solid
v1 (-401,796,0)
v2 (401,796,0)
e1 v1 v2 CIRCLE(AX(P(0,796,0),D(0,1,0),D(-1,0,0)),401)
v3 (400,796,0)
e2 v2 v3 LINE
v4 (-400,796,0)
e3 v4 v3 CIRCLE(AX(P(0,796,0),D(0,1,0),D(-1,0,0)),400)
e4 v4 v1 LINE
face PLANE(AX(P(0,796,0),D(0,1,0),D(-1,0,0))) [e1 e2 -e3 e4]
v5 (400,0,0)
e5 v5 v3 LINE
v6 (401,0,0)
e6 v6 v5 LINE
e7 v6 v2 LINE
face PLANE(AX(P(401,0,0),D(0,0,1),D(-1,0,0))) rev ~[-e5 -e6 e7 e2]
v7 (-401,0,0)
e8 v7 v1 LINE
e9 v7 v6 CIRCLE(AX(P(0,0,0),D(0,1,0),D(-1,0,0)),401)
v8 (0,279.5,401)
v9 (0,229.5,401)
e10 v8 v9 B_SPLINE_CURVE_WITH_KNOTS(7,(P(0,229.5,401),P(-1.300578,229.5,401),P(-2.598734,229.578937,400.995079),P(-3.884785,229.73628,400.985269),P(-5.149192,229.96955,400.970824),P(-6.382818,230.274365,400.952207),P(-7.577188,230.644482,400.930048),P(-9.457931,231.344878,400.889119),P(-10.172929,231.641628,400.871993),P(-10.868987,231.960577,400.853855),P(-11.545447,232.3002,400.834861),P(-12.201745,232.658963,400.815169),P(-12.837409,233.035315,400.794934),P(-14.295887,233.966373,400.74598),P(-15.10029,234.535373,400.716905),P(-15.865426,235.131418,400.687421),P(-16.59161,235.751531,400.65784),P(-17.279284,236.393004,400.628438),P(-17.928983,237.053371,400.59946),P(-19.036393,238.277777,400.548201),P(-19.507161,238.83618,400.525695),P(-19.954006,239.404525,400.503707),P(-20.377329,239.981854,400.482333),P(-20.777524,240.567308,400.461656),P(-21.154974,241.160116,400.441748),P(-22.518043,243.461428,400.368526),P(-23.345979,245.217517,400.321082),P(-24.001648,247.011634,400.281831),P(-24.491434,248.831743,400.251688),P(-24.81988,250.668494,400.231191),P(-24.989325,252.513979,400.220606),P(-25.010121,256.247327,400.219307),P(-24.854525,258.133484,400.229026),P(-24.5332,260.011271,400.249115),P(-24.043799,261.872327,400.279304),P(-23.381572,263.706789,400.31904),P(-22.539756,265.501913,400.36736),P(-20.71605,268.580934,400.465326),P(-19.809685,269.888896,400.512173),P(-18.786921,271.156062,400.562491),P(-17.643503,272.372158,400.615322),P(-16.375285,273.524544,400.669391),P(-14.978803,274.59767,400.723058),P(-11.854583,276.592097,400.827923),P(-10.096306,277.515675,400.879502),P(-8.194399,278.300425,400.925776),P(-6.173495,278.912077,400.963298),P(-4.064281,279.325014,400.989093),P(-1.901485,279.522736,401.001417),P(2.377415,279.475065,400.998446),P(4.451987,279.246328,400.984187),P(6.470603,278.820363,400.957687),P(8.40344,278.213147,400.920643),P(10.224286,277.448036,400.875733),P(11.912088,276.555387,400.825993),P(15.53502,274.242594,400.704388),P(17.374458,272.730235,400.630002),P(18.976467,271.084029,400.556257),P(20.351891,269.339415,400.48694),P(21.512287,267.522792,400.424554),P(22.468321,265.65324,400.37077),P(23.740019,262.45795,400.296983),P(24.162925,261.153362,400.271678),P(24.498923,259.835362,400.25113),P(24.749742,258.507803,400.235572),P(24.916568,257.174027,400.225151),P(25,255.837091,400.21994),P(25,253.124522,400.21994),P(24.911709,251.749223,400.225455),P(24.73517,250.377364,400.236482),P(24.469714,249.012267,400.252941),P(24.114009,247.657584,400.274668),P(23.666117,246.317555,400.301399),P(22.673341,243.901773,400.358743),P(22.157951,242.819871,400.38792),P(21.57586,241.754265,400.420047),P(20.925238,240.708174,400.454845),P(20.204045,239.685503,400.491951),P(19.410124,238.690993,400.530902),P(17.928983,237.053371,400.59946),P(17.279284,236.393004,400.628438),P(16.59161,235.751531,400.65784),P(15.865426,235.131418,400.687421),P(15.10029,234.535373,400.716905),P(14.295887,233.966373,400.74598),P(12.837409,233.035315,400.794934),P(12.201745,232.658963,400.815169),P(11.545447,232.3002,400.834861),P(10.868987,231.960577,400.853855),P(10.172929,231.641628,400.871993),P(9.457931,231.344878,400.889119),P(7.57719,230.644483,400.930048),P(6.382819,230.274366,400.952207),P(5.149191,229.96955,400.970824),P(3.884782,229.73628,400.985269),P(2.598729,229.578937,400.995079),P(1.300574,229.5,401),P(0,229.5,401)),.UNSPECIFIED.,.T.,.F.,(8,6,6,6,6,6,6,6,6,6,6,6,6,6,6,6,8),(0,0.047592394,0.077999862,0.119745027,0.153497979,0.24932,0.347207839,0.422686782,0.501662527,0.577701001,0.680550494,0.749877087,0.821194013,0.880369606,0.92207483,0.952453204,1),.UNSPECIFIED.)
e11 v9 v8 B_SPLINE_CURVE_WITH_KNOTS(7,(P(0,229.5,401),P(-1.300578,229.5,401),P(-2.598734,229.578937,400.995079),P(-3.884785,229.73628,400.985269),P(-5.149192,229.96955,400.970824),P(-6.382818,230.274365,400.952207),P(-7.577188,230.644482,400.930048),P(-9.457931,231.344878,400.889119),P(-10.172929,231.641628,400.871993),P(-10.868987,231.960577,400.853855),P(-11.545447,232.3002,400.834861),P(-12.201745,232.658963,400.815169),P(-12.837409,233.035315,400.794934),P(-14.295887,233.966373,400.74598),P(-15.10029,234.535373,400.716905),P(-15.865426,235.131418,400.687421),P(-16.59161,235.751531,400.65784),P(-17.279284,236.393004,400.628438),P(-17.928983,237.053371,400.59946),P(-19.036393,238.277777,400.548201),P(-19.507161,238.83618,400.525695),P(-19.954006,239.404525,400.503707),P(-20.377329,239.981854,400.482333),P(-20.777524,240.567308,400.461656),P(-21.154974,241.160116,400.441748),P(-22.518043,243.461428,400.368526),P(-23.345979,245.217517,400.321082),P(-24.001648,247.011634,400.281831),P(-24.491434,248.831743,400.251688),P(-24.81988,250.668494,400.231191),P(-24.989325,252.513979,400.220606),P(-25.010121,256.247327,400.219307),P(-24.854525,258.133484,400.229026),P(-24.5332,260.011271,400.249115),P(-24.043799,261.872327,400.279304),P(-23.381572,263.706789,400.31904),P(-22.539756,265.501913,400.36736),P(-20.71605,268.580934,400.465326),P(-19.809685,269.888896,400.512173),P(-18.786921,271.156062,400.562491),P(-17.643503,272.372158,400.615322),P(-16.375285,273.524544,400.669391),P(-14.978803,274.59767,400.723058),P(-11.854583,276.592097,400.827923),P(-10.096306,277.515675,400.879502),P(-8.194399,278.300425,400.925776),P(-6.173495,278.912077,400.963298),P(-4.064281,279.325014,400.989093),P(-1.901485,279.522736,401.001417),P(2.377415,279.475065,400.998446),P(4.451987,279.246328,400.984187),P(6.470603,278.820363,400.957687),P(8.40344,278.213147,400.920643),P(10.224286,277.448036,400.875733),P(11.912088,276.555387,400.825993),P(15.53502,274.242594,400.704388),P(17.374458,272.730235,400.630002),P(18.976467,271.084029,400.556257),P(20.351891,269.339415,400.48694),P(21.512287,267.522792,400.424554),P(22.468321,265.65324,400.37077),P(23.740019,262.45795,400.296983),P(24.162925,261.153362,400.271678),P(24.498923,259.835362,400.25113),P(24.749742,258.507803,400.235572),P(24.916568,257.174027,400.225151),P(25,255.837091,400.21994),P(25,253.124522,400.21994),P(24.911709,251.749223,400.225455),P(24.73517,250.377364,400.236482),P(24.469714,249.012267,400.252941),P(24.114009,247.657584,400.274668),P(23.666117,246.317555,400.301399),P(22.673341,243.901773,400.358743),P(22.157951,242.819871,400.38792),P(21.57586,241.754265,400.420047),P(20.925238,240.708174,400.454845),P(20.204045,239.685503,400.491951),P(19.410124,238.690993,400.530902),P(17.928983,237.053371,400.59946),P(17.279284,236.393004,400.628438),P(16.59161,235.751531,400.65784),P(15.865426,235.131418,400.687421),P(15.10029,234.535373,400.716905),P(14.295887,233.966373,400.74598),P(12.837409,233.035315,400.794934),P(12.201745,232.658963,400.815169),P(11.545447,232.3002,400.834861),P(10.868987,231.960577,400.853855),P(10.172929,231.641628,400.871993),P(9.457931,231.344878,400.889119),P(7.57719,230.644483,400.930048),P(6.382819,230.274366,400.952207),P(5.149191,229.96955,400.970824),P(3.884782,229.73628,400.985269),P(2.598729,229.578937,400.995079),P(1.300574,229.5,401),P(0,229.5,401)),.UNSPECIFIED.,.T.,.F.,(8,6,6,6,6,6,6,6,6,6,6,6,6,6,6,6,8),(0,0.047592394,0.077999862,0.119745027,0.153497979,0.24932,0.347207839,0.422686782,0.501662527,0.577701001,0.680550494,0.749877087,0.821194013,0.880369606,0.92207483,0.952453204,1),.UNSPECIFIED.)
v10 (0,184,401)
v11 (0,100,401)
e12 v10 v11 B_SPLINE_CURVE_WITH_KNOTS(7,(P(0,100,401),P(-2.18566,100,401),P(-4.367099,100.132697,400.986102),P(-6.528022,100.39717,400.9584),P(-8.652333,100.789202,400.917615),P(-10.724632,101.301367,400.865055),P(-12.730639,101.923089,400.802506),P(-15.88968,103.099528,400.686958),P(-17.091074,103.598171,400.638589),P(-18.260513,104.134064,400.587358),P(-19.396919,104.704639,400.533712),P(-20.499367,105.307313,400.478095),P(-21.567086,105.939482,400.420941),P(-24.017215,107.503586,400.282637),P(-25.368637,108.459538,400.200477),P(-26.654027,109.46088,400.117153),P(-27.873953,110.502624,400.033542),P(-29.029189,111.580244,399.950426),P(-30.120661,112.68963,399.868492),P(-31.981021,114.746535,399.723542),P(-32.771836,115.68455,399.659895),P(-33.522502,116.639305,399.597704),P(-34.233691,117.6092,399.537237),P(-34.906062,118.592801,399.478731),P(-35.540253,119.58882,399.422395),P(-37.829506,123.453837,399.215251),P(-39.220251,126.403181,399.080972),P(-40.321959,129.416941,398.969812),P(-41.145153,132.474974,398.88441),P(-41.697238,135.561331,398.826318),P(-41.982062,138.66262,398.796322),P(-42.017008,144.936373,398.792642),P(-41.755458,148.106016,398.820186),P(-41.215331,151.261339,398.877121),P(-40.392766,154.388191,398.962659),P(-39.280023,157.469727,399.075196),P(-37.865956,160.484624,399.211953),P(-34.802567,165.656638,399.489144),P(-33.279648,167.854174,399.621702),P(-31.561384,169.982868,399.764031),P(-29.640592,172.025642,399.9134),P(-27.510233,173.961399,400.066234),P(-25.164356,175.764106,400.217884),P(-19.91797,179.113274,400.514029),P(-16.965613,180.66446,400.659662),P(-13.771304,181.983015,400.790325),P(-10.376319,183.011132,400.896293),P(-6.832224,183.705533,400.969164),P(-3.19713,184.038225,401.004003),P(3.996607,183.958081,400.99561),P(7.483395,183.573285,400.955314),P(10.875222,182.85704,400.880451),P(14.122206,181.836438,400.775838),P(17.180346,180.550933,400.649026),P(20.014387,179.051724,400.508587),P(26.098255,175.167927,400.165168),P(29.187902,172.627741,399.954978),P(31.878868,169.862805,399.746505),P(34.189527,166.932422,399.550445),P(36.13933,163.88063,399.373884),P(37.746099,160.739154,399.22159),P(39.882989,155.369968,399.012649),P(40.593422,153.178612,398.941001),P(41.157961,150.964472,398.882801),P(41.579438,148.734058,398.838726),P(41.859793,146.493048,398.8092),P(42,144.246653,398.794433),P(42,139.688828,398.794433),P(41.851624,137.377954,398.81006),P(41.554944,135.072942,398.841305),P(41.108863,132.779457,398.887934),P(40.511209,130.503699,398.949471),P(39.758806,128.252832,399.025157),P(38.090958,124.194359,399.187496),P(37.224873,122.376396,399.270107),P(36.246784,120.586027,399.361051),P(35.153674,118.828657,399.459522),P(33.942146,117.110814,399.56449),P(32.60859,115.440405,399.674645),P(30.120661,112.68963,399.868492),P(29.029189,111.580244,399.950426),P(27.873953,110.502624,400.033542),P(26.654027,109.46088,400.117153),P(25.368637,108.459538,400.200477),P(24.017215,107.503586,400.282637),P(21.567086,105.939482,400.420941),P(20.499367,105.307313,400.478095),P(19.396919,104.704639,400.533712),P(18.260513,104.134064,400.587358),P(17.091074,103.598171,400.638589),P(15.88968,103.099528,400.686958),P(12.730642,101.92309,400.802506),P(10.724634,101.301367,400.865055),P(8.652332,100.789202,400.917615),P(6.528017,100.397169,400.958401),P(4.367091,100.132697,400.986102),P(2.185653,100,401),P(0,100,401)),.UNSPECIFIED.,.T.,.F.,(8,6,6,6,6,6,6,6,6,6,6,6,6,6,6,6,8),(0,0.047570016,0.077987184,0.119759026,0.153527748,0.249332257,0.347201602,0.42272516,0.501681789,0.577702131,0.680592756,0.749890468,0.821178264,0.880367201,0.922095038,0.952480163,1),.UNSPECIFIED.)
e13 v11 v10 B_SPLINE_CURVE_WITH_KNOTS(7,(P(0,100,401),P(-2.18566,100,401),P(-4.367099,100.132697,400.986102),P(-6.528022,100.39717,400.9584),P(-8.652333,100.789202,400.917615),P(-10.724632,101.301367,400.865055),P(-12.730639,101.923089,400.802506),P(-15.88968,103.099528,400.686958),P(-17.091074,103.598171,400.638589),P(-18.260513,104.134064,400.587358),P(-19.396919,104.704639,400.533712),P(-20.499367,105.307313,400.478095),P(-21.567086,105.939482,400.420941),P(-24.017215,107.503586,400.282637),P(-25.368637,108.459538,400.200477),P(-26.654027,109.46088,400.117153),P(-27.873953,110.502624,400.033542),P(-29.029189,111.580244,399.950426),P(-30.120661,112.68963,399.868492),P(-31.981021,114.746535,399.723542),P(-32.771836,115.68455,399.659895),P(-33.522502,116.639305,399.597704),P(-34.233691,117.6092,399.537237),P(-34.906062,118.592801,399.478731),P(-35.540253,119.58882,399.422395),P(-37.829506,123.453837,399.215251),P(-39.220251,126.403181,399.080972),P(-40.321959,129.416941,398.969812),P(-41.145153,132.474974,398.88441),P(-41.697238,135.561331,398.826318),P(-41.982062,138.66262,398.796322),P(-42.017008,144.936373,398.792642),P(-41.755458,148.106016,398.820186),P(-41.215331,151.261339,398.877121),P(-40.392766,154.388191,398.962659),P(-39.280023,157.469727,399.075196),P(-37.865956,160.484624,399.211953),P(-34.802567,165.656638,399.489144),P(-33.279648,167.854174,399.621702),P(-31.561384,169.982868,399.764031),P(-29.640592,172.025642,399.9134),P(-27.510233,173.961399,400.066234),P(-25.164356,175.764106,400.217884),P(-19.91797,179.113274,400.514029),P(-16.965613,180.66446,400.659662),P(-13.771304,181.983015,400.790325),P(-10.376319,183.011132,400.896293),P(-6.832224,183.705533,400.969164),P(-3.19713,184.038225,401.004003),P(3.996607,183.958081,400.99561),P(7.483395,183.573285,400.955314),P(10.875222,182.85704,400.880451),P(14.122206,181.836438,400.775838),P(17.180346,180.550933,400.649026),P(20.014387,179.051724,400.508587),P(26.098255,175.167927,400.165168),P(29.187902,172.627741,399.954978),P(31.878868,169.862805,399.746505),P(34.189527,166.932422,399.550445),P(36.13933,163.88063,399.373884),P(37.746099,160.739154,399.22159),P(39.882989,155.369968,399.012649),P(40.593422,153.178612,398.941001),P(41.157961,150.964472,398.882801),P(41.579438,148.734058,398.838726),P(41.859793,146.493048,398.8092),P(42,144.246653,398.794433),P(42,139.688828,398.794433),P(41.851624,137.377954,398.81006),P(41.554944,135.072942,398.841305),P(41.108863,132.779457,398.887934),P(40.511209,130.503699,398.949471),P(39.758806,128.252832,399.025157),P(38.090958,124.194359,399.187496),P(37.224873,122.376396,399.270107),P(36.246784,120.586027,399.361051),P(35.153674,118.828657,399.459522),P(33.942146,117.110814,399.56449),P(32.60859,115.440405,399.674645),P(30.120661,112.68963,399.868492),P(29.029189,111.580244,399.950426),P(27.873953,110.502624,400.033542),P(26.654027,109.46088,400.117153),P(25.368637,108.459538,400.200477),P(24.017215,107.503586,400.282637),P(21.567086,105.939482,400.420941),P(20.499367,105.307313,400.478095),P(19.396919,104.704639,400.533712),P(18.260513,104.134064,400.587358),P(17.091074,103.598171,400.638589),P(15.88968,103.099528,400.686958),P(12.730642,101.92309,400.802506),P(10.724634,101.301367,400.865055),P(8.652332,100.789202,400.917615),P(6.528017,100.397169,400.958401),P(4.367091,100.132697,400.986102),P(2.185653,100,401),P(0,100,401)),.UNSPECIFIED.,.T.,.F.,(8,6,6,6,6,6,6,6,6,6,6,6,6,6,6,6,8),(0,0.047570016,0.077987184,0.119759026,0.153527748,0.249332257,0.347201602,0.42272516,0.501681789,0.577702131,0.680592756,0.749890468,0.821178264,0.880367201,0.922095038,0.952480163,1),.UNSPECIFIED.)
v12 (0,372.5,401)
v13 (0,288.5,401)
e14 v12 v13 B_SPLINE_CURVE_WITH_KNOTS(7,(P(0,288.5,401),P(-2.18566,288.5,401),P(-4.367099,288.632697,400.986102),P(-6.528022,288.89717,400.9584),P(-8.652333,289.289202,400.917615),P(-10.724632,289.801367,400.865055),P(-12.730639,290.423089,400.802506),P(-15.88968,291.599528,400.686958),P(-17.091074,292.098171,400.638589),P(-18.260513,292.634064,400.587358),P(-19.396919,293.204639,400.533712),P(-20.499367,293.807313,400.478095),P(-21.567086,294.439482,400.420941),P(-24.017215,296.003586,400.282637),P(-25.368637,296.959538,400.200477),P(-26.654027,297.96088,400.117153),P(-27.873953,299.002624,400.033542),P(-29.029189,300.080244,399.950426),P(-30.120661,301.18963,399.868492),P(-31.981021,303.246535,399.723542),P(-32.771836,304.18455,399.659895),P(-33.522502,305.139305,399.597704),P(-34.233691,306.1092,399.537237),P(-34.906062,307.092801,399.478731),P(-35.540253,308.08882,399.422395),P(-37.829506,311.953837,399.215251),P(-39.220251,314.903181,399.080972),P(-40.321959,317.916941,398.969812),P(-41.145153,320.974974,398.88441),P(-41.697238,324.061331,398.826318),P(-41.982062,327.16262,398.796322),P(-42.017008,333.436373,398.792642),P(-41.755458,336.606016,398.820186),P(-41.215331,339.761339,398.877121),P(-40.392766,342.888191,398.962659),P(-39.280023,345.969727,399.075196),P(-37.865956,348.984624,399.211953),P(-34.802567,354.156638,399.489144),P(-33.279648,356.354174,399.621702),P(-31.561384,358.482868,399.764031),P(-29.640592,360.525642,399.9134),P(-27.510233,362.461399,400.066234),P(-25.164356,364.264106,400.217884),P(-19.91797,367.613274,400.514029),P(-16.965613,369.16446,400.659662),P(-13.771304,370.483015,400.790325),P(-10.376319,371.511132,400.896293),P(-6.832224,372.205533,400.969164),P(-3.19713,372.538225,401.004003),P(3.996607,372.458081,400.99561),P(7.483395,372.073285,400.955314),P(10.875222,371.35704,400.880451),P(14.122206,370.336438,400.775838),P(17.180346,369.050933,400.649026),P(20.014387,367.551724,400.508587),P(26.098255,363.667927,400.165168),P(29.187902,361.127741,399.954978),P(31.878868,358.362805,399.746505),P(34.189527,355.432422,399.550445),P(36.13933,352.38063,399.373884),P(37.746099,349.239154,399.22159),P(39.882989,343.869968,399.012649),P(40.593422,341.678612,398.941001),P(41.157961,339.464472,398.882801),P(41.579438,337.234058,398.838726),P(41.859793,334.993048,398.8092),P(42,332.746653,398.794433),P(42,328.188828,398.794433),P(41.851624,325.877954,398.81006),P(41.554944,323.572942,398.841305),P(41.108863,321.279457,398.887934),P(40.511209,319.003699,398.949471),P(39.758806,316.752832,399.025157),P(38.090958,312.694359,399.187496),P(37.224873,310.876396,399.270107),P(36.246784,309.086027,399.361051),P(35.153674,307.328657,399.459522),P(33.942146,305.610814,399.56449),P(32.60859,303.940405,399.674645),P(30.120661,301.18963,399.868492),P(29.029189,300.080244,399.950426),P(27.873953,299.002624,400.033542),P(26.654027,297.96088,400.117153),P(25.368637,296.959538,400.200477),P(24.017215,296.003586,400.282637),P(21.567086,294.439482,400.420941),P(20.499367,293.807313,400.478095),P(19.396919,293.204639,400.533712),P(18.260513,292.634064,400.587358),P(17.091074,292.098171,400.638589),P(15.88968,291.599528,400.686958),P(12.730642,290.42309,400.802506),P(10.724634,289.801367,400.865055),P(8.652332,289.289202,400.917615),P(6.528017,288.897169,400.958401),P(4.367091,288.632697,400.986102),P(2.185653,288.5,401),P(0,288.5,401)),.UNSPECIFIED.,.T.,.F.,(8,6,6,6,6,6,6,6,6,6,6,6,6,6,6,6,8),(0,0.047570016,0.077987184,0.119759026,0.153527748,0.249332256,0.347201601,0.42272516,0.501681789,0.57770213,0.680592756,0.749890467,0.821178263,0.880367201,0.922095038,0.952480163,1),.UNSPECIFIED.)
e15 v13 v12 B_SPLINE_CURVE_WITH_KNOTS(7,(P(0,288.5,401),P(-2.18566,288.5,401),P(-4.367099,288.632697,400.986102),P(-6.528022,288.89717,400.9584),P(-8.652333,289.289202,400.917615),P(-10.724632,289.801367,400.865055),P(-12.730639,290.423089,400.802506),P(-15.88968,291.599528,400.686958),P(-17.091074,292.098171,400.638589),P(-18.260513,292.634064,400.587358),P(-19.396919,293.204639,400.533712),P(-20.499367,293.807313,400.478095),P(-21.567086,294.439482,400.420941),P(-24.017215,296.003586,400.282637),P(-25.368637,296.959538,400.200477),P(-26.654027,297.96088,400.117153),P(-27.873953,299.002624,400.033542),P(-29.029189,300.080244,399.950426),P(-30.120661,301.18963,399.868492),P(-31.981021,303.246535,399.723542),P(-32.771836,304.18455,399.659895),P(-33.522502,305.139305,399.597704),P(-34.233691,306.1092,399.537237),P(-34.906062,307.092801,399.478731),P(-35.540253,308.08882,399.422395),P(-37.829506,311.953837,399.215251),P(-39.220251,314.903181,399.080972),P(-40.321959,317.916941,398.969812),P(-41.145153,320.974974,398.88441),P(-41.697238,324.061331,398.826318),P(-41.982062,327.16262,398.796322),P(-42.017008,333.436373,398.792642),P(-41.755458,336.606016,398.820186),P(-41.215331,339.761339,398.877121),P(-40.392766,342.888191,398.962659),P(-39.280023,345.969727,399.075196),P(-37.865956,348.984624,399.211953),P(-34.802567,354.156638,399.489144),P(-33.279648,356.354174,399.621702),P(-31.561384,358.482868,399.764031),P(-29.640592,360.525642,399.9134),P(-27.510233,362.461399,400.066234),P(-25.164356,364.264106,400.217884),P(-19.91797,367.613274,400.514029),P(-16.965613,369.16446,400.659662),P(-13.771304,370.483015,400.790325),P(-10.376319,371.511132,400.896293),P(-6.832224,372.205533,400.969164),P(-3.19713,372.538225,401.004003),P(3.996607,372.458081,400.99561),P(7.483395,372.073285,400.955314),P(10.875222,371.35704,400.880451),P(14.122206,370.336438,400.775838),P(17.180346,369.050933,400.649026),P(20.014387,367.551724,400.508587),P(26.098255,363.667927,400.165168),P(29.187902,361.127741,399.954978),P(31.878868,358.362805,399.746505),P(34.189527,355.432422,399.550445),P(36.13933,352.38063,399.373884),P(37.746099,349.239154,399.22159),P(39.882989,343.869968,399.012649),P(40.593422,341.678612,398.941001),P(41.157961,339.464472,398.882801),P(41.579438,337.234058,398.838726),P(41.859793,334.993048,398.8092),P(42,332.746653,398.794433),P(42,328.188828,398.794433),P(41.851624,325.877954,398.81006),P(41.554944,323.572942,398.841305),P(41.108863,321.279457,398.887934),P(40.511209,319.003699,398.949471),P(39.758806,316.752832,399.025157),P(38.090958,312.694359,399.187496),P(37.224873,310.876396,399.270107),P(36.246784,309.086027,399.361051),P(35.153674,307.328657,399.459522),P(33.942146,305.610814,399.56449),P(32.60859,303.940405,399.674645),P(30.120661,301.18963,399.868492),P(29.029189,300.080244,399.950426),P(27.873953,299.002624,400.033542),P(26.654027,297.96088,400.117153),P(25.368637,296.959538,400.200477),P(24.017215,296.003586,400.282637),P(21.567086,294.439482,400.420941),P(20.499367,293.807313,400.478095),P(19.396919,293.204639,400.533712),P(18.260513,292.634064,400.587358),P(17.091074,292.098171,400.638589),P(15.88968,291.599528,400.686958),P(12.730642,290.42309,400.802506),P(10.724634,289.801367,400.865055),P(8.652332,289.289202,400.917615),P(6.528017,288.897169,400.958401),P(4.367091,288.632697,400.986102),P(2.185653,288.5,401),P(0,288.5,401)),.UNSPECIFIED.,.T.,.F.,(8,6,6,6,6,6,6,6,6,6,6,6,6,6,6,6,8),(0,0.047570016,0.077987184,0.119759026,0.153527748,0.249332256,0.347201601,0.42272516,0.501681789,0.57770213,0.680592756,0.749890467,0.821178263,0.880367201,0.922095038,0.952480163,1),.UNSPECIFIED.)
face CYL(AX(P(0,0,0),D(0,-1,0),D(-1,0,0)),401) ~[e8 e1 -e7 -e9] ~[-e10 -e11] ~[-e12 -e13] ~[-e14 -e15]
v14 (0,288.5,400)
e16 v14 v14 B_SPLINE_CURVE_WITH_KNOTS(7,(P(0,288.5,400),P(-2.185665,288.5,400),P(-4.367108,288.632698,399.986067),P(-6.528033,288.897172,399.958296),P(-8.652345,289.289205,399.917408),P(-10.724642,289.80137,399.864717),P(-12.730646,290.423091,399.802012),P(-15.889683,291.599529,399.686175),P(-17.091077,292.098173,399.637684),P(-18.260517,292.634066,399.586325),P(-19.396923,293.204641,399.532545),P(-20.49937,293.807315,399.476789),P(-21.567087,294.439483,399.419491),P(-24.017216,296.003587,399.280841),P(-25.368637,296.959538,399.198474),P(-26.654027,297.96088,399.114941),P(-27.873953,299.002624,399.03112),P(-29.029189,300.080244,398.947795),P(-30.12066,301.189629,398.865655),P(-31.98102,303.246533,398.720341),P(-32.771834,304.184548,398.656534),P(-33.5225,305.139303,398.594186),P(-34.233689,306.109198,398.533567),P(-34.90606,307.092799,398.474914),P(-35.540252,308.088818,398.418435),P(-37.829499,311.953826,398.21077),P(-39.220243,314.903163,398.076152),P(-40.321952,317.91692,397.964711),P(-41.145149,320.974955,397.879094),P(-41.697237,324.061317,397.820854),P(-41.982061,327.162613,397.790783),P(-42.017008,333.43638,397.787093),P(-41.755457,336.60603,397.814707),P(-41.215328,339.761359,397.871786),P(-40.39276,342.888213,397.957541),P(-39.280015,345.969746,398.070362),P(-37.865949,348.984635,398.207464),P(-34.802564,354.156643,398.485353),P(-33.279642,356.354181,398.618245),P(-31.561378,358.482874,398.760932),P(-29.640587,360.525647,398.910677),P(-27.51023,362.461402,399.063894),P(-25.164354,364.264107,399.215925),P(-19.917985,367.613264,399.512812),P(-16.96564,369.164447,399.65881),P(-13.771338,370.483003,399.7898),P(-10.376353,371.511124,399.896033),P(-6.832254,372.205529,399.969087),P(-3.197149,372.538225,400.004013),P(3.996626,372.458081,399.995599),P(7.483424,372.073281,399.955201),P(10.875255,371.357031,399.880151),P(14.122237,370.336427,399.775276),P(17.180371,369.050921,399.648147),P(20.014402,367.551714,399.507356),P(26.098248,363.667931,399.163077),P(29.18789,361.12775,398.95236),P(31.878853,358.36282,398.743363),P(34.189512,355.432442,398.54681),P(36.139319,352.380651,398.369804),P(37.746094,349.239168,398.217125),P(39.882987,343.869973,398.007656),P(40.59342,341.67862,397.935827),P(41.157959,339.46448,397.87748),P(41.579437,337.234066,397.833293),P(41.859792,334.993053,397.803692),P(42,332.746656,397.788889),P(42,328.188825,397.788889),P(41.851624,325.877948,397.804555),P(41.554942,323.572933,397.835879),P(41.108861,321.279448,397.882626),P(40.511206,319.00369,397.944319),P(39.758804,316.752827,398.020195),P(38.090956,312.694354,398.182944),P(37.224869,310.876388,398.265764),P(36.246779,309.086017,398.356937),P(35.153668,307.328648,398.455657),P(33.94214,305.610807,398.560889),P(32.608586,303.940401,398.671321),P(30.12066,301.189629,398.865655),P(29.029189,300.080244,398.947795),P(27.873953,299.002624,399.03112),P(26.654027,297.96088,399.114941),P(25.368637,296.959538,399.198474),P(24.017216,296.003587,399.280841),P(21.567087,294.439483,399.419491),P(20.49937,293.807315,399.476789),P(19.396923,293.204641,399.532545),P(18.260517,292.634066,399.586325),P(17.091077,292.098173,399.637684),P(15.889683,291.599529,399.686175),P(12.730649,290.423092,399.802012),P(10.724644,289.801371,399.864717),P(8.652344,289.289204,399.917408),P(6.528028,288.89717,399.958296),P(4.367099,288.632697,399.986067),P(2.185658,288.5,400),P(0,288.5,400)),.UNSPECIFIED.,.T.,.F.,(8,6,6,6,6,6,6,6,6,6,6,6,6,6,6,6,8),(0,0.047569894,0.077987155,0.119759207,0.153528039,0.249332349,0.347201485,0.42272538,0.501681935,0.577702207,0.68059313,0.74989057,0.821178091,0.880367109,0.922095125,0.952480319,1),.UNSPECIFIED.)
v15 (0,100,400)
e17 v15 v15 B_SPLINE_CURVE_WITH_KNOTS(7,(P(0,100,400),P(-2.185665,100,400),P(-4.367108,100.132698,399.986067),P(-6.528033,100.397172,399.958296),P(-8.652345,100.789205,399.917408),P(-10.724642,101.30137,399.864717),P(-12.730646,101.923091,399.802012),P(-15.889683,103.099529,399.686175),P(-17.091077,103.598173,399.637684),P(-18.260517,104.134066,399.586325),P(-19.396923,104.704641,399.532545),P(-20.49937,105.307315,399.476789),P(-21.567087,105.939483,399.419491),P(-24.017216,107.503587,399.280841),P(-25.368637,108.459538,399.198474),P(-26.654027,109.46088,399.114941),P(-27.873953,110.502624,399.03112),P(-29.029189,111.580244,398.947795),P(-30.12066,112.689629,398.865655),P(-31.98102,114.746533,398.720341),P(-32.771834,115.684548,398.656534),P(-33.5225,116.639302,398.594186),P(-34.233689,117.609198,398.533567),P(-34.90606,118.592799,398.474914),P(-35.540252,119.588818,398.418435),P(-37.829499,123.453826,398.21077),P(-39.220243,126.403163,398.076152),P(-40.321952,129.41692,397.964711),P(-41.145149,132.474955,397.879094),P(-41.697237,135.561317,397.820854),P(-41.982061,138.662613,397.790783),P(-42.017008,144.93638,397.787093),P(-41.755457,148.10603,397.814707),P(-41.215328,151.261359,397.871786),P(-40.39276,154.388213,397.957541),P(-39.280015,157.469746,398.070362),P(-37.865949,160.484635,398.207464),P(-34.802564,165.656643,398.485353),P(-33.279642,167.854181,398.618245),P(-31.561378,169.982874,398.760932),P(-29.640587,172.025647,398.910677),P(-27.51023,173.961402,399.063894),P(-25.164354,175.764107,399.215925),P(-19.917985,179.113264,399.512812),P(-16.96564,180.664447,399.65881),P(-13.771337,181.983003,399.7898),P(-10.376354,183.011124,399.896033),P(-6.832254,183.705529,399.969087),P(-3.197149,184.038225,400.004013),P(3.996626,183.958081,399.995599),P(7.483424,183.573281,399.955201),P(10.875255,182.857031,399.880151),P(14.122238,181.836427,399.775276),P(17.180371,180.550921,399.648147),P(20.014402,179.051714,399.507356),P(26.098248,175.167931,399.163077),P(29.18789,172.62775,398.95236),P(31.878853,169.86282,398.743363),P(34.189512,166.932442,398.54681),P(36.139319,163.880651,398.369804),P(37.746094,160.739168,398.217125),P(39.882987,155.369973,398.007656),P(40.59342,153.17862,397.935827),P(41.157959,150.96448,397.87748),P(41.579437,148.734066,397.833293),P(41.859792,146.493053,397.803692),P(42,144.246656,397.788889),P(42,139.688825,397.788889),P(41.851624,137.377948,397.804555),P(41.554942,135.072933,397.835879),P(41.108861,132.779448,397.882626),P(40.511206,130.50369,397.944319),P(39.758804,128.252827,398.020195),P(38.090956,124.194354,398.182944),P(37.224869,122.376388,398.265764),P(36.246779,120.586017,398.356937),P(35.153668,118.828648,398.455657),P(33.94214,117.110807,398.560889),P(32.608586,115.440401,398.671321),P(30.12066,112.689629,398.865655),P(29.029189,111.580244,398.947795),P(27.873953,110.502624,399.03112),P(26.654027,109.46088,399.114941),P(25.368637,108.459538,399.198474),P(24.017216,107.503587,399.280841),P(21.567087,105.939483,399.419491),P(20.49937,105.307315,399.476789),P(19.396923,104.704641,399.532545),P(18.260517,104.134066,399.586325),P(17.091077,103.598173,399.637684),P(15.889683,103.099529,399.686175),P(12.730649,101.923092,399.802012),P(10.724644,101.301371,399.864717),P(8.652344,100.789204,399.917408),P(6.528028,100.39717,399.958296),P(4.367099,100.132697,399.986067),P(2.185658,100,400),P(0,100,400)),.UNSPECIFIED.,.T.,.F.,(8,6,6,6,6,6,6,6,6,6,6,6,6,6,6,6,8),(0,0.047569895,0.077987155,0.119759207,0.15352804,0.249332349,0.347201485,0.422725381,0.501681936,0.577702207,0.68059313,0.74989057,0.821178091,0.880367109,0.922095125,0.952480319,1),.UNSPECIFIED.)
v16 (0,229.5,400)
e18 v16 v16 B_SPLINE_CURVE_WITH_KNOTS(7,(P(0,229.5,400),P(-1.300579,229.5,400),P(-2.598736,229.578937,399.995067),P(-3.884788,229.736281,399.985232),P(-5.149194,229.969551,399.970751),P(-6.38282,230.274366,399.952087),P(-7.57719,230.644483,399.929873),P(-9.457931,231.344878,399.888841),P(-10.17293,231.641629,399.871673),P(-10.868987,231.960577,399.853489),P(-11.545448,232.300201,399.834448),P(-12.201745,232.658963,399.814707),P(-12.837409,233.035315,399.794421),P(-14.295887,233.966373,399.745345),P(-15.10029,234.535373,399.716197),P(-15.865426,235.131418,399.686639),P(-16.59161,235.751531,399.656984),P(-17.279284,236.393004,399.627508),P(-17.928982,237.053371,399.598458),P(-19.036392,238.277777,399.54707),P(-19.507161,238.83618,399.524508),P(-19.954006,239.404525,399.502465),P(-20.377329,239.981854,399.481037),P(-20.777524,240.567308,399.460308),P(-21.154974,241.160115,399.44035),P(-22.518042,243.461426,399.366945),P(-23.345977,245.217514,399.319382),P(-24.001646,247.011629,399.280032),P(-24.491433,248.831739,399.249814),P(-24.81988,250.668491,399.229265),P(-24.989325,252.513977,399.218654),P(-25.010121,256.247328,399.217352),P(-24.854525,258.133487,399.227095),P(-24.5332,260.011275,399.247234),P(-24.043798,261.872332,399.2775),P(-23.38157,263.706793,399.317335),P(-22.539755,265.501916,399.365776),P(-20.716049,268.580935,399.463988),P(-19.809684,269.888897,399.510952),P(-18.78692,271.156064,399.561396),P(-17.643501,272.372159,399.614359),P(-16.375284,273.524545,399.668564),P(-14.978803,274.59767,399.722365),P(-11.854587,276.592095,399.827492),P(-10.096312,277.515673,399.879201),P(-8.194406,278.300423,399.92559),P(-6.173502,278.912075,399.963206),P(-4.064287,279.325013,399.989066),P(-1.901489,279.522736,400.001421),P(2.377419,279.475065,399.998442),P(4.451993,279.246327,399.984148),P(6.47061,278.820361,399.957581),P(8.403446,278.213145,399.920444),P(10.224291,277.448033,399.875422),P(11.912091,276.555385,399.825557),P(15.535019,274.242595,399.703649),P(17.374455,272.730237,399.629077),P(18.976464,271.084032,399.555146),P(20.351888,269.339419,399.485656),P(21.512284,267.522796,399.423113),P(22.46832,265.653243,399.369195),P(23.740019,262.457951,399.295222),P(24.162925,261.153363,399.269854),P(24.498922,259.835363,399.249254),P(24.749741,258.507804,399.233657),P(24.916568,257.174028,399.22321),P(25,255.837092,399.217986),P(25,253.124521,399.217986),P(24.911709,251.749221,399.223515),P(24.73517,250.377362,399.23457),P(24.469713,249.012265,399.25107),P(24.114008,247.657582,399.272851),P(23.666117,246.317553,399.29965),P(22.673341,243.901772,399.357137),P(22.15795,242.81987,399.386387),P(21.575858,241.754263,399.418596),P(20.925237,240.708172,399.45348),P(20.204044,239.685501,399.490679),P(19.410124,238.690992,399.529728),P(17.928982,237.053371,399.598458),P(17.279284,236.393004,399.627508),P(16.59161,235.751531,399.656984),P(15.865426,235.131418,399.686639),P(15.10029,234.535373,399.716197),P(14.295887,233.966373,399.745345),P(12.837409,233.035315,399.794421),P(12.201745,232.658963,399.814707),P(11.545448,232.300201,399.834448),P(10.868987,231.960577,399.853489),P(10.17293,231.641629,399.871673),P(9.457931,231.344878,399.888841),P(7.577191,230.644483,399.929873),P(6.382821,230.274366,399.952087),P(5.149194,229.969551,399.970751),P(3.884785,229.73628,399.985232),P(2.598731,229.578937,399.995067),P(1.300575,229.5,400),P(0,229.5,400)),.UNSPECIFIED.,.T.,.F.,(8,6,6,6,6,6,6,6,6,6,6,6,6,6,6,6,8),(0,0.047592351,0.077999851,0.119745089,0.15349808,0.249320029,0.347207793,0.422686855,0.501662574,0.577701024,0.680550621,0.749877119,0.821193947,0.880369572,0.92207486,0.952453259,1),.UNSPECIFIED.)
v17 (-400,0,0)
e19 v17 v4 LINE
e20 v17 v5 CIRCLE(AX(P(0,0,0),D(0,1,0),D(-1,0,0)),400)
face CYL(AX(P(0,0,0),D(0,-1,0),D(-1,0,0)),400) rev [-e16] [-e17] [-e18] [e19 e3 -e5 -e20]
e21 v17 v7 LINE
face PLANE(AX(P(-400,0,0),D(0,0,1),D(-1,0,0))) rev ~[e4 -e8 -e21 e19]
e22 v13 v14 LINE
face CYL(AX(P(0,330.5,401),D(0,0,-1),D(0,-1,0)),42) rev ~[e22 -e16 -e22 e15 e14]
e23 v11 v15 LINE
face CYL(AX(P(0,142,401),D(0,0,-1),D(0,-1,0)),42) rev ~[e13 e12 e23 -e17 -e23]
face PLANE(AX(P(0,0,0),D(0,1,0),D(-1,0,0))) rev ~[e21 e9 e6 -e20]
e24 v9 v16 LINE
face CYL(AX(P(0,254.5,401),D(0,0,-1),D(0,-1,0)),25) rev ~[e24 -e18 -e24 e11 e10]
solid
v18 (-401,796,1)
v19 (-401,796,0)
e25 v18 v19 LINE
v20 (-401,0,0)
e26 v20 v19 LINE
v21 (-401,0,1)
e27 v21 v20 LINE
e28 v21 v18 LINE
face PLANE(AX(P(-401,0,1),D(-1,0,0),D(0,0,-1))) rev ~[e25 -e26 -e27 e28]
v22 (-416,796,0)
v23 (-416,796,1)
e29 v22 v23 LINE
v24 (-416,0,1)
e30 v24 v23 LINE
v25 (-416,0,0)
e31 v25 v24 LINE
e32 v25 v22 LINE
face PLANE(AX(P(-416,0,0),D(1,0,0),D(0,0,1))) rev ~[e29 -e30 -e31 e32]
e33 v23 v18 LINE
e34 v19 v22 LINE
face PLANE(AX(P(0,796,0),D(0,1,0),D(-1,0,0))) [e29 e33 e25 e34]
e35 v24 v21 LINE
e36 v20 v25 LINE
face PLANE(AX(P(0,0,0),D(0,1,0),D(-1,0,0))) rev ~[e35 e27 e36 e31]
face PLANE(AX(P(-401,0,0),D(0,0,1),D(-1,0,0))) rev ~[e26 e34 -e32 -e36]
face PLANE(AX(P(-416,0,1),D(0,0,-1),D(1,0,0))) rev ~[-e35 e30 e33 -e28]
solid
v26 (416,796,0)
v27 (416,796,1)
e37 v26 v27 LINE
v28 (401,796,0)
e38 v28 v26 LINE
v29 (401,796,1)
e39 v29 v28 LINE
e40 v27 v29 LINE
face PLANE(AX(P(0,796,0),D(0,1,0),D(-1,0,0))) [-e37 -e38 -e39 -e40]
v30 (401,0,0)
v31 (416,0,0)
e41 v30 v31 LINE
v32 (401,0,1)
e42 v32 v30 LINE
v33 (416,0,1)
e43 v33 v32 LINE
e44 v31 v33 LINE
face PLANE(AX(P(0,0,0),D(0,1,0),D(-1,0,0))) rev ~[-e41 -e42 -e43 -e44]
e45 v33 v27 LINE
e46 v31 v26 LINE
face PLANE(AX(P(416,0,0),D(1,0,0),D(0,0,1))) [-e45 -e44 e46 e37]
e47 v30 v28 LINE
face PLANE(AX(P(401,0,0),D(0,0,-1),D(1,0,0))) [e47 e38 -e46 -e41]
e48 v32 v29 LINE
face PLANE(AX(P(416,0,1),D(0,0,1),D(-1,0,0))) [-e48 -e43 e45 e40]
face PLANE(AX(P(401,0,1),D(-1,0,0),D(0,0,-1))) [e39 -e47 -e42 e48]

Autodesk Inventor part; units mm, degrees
ref_plane "YZ Plane" through (0, 0, 0) normal (1, 0, 0) x (0, 1, 0)
ref_plane "XZ Plane" through (0, 0, 0) normal (0, 1, 0) x (-1, 0, 0)
sketch "Sketch1" plane through (0, 0, 0) normal (0, 1, 0) x (-1, 0, 0)
  arc A0 (401, 0) -> (-401, 0) centre (0, 0) ccw
  line L0 (0, 0) -> (-401, 0) construction
  line L1 (0, 0) -> (401, 0) construction
  arc A1 (400, 0) -> (-400, 0) centre (0, 0) ccw
  line L2 (0, 0) -> (-400, 0) construction
  line L3 (0, 0) -> (400, 0) construction
  line L4 (-401, 0) -> (-400, 0)
  line L5 (400, 0) -> (401, 0)
  dimension "d0" = 401
  dimension "d1" = 180
  dimension "d2" = 400
  dimension "d3" = 180
extrude "Extrusion1" add sketch "Sketch1" along normal blind 796
sketch "Sketch2" plane through (0, 0, 0) normal (0, 1, 0) x (-1, 0, 0)
  line L0 (-401, 0) -> (-416, 0)
  line L1 (-416, 0) -> (-416, 1)
  line L2 (-416, 1) -> (-401, 1)
  line L3 (-401, 1) -> (-401, 0)
  point P0 (0, 0)
  dimension "d6" = 15
  dimension "d7" = 1
extrude "Extrusion2" add sketch "Sketch2" along normal blind 796
sketch "Sketch3" plane through (0, 0, 0) normal (0, 1, 0) x (-1, 0, 0)
  line L0 (401, 0) -> (416, 0)
  line L1 (416, 0) -> (416, 1)
  line L2 (416, 1) -> (401, 1)
  line L3 (401, 1) -> (401, 0)
  point P0 (0, 0)
  dimension "d10" = 15
  dimension "d11" = 1
extrude "Extrusion3" add sketch "Sketch3" along normal blind 796
sketch "Sketch4" plane through (0, 0, 0) normal (0, 1, 0) x (-1, 0, 0)
  line L0 (0, 0) -> (0, 401)
  dimension "d14" = 401
ref_plane "Work Plane1" through (0, 0, 401) normal (0, 0, 1) x (1, 0, 0)
sketch "Sketch5" plane through (0, 0, 401) normal (0, 0, 1) x (1, 0, 0)
  circle A0 centre (0, 254.5) radius 25
  line L0 (401, 0) -> (-401, 0) projected
  point P0 (0, 0)
  dimension "d15" = 50
  dimension "d16" = 254.5
hole "Hole1" at (0, 254.5, 401) direction (0, 0, -1) diameter 50 end through all
sketch "Sketch6" plane through (0, 0, 401) normal (0, 0, 1) x (1, 0, 0)
  circle A0 centre (0, 330.5) radius 42
  line L0 (401, 0) -> (-401, 0) projected
  point P0 (0, 0)
  dimension "d24" = 84
  dimension "d25" = 330.5
hole "Hole2" at (0, 330.5, 401) direction (0, 0, -1) diameter 84 end through all
sketch "Sketch7" plane through (0, 0, 401) normal (0, 0, 1) x (1, 0, 0)
  circle A0 centre (0, 254.5) radius 25
  line L0 (401, 0) -> (-401, 0) projected
  point P0 (0, 0)
  dimension "d33" = 50
  dimension "d34" = 254.5
sketch "Sketch8" plane through (0, 0, 401) normal (0, 0, 1) x (1, 0, 0)
  circle A0 centre (0, 142) radius 42
  line L0 (401, 0) -> (-401, 0) projected
  point P0 (0, 0)
  dimension "d35" = 84
  dimension "d36" = 142
hole "Hole3" at (0, 142, 401) direction (0, 0, -1) diameter 84 depth 8 tip angle 118
properties part number "Lower Back Half"
